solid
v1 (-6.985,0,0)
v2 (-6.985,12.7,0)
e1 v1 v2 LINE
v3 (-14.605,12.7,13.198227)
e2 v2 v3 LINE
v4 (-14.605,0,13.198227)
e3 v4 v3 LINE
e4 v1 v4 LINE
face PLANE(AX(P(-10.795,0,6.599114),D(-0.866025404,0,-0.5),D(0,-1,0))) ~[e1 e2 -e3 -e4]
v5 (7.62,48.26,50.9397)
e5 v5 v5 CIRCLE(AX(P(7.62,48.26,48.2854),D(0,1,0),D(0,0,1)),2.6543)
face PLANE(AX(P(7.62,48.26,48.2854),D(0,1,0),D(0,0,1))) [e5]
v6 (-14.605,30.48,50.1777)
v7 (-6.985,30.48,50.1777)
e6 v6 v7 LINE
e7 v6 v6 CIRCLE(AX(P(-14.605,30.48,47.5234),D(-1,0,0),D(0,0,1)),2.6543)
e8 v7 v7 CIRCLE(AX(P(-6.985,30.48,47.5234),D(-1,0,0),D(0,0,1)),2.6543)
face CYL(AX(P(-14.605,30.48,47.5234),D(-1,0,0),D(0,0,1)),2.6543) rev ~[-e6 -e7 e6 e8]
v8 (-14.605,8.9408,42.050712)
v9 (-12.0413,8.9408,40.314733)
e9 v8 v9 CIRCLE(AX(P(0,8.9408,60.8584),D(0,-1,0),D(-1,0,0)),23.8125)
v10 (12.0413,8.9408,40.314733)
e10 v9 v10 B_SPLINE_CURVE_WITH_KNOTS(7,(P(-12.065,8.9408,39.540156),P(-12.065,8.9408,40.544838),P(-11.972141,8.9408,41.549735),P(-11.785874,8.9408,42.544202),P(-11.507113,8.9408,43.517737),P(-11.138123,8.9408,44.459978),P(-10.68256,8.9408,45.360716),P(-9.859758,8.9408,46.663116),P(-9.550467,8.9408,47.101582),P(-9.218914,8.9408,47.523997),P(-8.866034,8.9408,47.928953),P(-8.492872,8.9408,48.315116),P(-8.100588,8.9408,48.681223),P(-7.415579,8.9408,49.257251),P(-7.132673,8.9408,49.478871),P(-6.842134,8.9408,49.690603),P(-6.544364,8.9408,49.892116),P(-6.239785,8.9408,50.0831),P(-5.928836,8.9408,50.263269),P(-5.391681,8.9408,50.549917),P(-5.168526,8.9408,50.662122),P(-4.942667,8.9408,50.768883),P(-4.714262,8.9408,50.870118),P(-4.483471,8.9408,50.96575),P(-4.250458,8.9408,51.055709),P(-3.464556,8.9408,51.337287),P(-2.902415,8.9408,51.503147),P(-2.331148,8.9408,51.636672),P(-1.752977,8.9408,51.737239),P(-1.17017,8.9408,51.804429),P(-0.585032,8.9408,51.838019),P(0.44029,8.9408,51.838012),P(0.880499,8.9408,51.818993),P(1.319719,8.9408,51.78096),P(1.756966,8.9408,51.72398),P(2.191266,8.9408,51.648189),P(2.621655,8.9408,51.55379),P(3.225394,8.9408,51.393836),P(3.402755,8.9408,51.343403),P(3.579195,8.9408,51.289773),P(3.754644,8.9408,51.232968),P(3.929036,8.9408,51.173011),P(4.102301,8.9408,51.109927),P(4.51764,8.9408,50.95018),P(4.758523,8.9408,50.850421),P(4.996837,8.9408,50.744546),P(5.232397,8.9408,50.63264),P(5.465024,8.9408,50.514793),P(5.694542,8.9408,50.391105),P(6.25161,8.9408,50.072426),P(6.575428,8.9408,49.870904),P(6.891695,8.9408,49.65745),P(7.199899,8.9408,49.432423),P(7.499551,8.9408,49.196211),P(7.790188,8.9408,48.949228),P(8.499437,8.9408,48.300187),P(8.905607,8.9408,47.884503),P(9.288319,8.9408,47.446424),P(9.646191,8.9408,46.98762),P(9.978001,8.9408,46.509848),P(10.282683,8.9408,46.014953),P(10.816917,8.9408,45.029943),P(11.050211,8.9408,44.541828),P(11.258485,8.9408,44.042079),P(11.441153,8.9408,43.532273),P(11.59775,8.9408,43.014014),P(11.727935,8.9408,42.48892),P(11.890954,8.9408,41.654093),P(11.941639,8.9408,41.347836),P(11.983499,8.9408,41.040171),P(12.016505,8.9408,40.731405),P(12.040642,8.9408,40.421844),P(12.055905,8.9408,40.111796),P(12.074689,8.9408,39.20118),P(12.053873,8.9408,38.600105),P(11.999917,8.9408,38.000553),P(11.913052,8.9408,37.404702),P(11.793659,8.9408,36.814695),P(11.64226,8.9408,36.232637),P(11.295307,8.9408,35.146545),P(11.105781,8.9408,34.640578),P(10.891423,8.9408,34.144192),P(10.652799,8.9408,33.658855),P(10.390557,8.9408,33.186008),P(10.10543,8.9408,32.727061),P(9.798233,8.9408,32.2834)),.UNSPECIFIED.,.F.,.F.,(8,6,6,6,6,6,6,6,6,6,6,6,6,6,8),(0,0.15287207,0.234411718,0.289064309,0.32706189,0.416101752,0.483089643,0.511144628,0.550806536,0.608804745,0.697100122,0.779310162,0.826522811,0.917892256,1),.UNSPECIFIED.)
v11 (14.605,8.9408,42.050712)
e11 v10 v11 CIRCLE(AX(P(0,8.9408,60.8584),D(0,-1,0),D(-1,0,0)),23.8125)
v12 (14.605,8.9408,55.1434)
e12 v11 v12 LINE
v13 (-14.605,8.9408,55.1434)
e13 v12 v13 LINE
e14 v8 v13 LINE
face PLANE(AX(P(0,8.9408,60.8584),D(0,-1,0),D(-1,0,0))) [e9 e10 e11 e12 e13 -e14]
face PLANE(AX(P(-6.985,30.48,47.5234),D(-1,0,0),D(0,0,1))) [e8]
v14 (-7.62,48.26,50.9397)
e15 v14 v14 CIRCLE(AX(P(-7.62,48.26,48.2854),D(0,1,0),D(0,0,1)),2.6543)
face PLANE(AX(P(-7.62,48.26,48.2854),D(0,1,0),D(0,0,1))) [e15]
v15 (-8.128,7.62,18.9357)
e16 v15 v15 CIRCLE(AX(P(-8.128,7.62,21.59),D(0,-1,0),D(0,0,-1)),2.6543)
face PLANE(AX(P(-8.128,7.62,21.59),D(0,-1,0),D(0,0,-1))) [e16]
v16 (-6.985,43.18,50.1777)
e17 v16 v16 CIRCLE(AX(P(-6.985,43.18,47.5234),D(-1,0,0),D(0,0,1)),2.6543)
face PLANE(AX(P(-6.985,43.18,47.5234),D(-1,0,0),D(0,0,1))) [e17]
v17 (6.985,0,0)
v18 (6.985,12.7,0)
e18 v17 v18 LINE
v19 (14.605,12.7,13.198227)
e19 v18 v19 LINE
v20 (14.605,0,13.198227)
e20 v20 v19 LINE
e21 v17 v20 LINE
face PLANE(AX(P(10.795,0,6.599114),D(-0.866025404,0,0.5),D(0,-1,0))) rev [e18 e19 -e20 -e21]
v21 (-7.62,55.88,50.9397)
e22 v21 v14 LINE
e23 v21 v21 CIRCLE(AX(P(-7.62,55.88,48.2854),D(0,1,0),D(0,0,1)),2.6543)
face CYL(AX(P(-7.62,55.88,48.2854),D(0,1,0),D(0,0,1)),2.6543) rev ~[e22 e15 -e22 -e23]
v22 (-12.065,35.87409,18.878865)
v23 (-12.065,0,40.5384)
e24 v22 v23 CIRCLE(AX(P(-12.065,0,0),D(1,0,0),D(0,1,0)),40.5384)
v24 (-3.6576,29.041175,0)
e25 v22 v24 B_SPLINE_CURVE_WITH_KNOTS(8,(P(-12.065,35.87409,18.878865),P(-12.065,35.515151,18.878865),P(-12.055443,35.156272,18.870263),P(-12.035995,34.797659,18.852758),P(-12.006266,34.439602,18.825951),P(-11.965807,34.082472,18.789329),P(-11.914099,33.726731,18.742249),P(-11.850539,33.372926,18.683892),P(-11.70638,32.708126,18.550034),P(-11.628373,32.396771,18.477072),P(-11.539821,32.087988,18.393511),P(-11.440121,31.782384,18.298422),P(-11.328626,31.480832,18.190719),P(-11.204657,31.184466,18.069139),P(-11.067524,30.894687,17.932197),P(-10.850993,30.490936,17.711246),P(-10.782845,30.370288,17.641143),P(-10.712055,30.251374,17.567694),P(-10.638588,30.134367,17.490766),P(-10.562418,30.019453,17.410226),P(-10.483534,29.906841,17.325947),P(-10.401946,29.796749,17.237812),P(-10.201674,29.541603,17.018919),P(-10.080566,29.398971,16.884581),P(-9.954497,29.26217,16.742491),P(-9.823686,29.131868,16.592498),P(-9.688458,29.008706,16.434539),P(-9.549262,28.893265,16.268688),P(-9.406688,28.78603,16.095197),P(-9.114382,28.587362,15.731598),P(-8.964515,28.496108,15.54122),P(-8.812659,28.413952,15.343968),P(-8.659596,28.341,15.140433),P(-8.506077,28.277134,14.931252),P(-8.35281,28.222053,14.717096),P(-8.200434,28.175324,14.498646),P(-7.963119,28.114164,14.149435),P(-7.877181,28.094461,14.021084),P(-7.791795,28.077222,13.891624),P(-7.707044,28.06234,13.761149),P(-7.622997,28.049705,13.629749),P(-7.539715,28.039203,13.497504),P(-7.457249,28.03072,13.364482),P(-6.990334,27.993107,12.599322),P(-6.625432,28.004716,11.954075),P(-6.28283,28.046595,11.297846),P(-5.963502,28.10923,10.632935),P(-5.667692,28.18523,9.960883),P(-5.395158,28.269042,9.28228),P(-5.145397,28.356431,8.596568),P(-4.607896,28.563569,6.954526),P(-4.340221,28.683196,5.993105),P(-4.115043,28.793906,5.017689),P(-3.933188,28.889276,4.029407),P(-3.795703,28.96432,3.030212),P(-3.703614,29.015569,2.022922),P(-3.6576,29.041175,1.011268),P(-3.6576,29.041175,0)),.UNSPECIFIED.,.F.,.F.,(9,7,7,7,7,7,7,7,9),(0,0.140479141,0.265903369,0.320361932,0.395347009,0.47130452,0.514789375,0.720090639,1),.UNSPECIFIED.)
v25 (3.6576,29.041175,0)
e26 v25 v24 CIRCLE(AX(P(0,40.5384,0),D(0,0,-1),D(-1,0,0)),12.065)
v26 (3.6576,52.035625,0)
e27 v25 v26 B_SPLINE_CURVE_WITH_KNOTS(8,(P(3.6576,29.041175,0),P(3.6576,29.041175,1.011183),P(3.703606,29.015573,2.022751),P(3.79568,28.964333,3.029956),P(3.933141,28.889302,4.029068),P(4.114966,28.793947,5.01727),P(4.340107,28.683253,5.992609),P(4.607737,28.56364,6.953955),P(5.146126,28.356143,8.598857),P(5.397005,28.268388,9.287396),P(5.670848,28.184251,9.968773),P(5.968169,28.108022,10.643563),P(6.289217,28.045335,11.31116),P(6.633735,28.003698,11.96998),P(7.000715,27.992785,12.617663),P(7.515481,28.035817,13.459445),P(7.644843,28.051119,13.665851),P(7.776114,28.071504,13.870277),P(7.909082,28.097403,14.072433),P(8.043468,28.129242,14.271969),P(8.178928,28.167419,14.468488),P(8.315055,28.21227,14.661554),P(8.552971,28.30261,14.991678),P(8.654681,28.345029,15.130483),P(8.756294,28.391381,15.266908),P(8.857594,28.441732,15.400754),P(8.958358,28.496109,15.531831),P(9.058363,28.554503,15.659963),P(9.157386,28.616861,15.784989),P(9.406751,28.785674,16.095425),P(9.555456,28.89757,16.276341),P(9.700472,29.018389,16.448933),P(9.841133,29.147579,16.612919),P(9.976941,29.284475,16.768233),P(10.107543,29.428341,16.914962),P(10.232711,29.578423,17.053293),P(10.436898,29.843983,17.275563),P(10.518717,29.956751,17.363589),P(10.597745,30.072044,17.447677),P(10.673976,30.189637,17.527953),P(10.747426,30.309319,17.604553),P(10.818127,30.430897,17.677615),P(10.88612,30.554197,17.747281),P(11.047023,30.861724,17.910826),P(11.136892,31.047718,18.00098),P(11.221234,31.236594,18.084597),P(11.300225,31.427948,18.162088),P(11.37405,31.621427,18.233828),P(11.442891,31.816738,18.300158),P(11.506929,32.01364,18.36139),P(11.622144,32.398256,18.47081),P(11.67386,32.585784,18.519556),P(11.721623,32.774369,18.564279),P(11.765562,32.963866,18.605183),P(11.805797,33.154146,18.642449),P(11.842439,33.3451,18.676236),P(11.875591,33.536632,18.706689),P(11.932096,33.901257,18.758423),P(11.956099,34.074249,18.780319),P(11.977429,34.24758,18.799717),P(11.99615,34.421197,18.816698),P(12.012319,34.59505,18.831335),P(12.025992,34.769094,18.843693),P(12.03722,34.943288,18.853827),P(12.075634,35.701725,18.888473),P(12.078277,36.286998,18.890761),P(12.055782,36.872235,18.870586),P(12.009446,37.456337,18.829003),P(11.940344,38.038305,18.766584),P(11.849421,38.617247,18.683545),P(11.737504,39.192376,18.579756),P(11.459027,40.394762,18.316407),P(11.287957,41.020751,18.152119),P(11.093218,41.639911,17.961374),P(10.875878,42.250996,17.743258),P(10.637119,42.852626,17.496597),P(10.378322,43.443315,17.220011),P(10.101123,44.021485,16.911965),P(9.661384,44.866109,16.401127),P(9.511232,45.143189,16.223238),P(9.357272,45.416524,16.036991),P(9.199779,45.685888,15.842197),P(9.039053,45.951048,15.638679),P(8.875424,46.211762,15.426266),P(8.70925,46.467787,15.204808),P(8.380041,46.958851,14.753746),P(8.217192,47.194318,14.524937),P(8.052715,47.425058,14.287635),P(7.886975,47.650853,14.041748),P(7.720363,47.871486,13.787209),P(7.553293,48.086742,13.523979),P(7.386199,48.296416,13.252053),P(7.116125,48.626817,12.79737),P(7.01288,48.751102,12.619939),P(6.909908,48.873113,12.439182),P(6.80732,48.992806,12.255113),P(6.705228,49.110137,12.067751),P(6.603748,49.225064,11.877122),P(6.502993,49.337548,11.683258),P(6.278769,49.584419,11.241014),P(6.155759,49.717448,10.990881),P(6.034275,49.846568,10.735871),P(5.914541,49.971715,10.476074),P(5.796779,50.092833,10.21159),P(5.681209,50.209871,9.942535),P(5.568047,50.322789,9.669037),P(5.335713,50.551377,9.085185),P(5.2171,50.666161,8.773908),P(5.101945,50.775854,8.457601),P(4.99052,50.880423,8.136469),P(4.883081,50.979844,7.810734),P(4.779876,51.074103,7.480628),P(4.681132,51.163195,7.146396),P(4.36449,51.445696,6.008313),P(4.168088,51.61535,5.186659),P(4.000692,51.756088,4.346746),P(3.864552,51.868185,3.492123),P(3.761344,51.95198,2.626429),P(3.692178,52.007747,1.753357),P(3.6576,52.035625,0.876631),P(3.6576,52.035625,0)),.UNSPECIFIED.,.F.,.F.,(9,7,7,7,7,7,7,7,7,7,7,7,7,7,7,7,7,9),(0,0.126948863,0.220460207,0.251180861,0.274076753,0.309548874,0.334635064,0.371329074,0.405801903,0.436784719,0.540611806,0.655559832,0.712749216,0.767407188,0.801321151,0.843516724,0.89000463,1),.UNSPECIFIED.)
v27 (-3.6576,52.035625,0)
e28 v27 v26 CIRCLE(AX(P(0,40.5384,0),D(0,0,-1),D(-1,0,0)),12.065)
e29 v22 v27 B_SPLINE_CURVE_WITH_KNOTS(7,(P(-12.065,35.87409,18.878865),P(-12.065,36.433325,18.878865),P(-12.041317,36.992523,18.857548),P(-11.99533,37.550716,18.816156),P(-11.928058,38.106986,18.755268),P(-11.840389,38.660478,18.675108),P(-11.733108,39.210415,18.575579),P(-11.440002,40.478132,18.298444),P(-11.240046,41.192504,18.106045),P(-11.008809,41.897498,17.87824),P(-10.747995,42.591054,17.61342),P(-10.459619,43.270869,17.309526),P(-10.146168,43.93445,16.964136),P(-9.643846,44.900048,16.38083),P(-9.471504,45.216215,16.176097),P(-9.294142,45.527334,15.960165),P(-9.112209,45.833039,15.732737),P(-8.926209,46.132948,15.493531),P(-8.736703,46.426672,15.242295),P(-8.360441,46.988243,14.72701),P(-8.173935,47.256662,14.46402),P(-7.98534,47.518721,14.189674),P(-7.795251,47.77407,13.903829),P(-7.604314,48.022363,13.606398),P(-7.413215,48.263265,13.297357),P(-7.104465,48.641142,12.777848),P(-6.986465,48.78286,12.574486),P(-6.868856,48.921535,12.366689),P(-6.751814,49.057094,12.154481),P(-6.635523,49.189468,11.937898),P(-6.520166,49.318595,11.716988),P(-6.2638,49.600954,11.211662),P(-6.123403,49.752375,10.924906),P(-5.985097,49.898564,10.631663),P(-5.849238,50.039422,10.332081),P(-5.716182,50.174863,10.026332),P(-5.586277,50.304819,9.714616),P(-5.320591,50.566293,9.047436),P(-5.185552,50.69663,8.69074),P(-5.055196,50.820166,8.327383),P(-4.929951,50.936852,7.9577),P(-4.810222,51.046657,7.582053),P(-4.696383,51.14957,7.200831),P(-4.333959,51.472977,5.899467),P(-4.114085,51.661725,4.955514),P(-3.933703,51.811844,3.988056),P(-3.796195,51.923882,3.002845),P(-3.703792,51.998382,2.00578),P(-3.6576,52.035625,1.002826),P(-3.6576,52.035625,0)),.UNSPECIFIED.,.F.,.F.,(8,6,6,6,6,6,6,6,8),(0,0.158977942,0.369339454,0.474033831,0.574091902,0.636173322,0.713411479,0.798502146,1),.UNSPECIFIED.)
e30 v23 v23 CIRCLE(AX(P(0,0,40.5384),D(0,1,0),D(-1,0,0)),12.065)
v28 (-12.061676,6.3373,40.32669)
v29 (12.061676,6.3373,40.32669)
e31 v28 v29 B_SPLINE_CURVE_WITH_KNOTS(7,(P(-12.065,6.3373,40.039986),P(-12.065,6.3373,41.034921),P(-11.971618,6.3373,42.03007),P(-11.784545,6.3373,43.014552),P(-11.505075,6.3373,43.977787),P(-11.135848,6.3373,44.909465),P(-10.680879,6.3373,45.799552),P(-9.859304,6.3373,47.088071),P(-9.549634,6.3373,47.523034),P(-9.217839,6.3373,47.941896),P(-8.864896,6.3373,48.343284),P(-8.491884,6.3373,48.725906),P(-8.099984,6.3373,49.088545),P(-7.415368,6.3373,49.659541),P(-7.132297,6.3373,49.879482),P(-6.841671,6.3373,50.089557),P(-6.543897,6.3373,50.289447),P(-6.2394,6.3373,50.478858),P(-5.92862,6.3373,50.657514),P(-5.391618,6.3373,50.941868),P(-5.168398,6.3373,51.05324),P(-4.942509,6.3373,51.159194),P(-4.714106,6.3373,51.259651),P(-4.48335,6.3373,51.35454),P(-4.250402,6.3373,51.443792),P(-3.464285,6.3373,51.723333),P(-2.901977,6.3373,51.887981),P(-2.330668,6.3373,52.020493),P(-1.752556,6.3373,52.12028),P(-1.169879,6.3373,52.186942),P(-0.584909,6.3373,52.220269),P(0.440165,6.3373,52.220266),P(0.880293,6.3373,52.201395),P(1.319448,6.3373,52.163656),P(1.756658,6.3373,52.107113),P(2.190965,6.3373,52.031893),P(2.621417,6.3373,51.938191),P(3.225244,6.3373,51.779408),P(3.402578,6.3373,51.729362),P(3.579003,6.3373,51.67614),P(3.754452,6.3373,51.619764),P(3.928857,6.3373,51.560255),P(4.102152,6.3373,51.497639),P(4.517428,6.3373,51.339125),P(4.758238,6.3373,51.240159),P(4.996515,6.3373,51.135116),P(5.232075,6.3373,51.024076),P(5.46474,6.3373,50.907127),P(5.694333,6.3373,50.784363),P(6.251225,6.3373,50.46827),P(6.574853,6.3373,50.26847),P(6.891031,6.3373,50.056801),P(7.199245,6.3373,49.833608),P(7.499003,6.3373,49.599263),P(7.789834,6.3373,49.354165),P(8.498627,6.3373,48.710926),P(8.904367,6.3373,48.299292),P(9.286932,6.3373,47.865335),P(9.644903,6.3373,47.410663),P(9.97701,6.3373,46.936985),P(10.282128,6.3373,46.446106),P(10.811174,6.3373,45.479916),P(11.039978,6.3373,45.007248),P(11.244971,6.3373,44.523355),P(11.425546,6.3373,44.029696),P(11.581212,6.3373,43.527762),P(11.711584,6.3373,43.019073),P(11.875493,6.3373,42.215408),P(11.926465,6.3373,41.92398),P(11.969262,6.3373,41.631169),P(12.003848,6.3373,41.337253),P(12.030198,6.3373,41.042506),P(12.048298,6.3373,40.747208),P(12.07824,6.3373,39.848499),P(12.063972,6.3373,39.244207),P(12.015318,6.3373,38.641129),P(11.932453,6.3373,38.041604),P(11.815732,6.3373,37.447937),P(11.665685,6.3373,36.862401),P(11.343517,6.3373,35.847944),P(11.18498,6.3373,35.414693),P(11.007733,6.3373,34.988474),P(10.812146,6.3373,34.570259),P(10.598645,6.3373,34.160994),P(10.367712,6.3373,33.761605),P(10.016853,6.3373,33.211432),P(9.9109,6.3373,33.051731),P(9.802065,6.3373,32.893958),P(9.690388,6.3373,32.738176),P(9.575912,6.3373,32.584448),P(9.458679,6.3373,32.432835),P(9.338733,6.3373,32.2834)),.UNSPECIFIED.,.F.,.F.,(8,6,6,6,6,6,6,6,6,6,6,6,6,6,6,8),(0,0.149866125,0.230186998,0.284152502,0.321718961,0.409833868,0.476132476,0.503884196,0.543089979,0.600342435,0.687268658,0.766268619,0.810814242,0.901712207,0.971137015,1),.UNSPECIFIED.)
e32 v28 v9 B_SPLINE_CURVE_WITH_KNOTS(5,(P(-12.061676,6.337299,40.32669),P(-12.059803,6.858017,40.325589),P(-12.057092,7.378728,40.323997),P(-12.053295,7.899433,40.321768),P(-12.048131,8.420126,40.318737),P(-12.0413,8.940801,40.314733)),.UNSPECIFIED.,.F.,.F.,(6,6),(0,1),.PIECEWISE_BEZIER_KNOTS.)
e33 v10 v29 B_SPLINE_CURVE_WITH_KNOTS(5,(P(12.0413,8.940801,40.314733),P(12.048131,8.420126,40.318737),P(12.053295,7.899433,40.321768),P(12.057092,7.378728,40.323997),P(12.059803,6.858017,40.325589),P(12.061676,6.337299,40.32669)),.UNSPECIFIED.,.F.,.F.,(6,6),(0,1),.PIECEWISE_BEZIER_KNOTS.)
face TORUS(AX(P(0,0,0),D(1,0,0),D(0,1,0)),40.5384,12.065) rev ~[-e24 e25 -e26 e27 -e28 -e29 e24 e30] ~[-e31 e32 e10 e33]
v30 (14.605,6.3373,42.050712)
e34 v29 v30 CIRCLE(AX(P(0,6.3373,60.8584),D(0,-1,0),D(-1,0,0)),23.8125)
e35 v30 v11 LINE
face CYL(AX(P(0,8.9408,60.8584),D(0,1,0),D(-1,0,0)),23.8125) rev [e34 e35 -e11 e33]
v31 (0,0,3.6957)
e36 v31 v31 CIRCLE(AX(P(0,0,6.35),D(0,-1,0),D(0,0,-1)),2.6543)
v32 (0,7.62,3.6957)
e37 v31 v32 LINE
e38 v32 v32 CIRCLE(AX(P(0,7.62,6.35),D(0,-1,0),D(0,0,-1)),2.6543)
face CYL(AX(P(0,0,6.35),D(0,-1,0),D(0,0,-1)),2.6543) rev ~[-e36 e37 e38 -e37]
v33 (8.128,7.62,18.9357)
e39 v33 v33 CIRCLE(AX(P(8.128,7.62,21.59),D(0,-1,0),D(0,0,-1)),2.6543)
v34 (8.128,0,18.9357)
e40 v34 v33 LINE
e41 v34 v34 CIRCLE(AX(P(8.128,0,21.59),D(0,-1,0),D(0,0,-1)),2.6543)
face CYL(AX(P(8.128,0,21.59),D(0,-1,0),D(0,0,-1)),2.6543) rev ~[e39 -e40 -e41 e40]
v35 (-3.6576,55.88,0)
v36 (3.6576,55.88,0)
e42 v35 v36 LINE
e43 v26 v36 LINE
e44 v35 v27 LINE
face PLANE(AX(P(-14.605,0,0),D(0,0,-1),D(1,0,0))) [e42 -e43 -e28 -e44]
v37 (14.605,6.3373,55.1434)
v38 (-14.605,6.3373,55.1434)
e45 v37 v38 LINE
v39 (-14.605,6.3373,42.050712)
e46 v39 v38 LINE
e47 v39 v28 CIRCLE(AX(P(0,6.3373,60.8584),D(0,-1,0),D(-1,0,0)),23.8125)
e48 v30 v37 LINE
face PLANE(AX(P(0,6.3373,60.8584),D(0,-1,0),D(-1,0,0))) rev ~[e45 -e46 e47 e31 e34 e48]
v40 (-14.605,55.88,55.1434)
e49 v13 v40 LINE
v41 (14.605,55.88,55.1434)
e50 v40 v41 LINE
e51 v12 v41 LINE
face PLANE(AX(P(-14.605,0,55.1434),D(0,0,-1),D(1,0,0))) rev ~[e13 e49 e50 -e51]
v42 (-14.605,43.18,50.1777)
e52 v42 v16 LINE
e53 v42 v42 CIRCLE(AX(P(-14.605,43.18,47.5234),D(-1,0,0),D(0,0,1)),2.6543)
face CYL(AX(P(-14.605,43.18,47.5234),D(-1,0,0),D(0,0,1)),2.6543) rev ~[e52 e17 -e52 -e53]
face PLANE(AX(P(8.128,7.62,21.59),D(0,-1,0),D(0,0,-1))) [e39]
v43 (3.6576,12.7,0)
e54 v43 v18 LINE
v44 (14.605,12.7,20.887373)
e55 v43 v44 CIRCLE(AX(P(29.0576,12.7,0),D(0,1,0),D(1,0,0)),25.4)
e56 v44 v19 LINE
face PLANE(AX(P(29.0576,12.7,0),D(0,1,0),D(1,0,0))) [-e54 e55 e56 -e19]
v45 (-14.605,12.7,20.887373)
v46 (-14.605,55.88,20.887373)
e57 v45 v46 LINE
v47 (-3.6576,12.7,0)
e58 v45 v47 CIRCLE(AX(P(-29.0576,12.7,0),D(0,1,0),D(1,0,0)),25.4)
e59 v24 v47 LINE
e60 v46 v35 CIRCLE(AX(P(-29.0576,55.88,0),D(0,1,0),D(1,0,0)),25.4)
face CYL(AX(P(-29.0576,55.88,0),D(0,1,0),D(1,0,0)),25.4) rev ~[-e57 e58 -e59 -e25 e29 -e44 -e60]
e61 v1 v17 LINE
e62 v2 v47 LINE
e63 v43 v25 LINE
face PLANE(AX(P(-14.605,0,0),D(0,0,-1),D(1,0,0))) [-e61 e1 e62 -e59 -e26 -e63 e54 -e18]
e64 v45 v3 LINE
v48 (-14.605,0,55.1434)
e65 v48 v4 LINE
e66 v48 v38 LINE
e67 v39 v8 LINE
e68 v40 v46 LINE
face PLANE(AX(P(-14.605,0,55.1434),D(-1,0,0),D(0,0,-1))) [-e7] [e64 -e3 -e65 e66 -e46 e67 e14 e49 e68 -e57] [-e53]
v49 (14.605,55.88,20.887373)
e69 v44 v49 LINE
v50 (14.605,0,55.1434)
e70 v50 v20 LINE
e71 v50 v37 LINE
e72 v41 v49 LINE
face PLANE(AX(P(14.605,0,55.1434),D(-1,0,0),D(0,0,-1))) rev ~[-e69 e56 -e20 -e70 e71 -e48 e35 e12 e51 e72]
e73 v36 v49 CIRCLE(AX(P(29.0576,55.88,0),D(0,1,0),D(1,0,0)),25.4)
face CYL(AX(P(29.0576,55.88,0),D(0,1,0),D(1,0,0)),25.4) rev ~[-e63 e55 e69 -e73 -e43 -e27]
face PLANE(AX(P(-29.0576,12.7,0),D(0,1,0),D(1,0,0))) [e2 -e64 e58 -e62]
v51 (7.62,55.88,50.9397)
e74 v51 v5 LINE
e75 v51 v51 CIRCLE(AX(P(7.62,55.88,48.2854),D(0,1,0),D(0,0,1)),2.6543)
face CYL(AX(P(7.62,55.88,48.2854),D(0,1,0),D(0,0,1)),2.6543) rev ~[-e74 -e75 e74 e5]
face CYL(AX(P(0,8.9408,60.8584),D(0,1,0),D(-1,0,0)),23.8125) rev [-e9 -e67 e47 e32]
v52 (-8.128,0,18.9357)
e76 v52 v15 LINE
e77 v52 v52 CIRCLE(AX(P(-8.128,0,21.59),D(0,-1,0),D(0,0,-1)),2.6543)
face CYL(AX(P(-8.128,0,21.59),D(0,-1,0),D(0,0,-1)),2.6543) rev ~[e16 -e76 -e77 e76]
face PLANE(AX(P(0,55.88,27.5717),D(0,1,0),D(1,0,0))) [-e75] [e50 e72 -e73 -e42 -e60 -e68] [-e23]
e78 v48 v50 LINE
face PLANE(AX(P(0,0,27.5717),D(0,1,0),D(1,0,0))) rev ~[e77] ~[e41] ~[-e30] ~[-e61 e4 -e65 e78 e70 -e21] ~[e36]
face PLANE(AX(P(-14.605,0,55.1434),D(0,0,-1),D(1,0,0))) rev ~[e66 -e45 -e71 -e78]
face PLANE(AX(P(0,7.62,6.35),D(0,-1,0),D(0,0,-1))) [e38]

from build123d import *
from build123d.topology import SkipClean

# Parameters (mm, degrees)
SKETCH1_W               = 29.21
SKETCH1_H               = 55.1434
BOSS_EXTRUDE1_DEPTH     = 55.88
SKETCH2_R               = 12.065
CUT_REVOLVE1_ANGLE      = 90
SKETCH3_R               = 25.4
CUT_EXTRUDE1_DEPTH      = 43.18
CUT_EXTRUDE4_DEPTH      = 2.0955
CUT_EXTRUDE4_DEPTH_BACK = 0.508
SKETCH6_R               = 23.8125
SKETCH7_R               = 2.6543
CUT_EXTRUDE5_DEPTH      = 7.62
CHAMFER1_SIZE           = 7.62
CHAMFER1_SIZE2          = 13.198227154
SKETCH8_R               = 2.6543
CUT_EXTRUDE6_DEPTH      = 7.62
SKETCH9_R               = 2.6543
CUT_EXTRUDE7_DEPTH      = 7.62


with BuildPart() as part:
    # Sketch1 → Boss-Extrude1 (new body)
    with BuildSketch(Plane(origin=(0, 0, 0), x_dir=(1, 0, 0), z_dir=(0, 1, 0))):
        with Locations((0, -27.5717)):
            Rectangle(SKETCH1_W, SKETCH1_H)
    extrude(amount=BOSS_EXTRUDE1_DEPTH)

    # Sketch2 → Cut-Revolve1 (revolve, cut)
    with BuildSketch(Plane(origin=(0, 0, 0), x_dir=(-1, 0, 0), z_dir=(0, 0, -1))):
        with Locations((0, 40.5384)):
            Circle(SKETCH2_R)
    revolve(axis=Axis((14.605, 0, 0), (1, 0, 0)), revolution_arc=CUT_REVOLVE1_ANGLE, mode=Mode.SUBTRACT)

    # Sketch3 → Cut-Extrude1 (cut)
    with BuildSketch(Plane(origin=(0, 55.88, 0), x_dir=(1, 0, 0), z_dir=(0, 1, 0))):
        with Locations((-29.0576, 0)):
            Circle(SKETCH3_R)
        with Locations((29.0576, 0)):
            Circle(SKETCH3_R)
    extrude(amount=-CUT_EXTRUDE1_DEPTH, mode=Mode.SUBTRACT)

    # Sketch6 → Cut-Extrude4 (cut, two sides: drawn at the far end of the back side and taken through both)
    with SkipClean():  # the faces are left unmerged after this step: merging them gives an invalid solid
        with BuildSketch(Plane(origin=(0, 8.4328, 0), x_dir=(-1, 0, 0), z_dir=(0, -1, 0)).offset(-CUT_EXTRUDE4_DEPTH_BACK)):
            with Locations((0, -60.8584)):
                Circle(SKETCH6_R)
        extrude(amount=CUT_EXTRUDE4_DEPTH + CUT_EXTRUDE4_DEPTH_BACK, mode=Mode.SUBTRACT)

    # Sketch7 → Cut-Extrude5 (cut)
    with SkipClean():  # the faces are left unmerged after this step: merging them gives an invalid solid
        with BuildSketch(Plane.XZ):
            with Locations((0, 6.35)):
                Circle(SKETCH7_R)
            with Locations((-8.128, 21.59)):
                Circle(SKETCH7_R)
            with Locations((8.128, 21.59)):
                Circle(SKETCH7_R)
        extrude(amount=-CUT_EXTRUDE5_DEPTH, mode=Mode.SUBTRACT)

    # Chamfer1
    chamfer1_edges = [part.edges().sort_by_distance(p)[0] for p in [
        (14.605, 6.35, 0),
        (-14.605, 6.35, 0),
    ]]
    chamfer1_side = [part.faces().sort_by_distance(p)[0] for p in [
        (0, 9.780788916, 0),
    ]]
    chamfer(chamfer1_edges, length=CHAMFER1_SIZE, length2=CHAMFER1_SIZE2, reference=chamfer1_side[0])

    # Sketch8 → Cut-Extrude6 (cut)
    with SkipClean():  # the faces are left unmerged after this step: merging them gives an invalid solid
        with BuildSketch(Plane(origin=(0, 55.88, 0), x_dir=(1, 0, 0), z_dir=(0, 1, 0))):
            with Locations((-7.62, -48.2854)):
                Circle(SKETCH8_R)
            with Locations((7.62, -48.2854)):
                Circle(SKETCH8_R)
        extrude(amount=-CUT_EXTRUDE6_DEPTH, mode=Mode.SUBTRACT)

    # Sketch9 → Cut-Extrude7 (cut)
    with SkipClean():  # the faces are left unmerged after this step: merging them gives an invalid solid
        with BuildSketch(Plane.ZY.offset(14.605)):
            with Locations((47.5234, 43.18)):
                Circle(SKETCH9_R)
            with Locations((47.5234, 30.48)):
                Circle(SKETCH9_R)
        extrude(amount=-CUT_EXTRUDE7_DEPTH, mode=Mode.SUBTRACT)


solid = part.part
